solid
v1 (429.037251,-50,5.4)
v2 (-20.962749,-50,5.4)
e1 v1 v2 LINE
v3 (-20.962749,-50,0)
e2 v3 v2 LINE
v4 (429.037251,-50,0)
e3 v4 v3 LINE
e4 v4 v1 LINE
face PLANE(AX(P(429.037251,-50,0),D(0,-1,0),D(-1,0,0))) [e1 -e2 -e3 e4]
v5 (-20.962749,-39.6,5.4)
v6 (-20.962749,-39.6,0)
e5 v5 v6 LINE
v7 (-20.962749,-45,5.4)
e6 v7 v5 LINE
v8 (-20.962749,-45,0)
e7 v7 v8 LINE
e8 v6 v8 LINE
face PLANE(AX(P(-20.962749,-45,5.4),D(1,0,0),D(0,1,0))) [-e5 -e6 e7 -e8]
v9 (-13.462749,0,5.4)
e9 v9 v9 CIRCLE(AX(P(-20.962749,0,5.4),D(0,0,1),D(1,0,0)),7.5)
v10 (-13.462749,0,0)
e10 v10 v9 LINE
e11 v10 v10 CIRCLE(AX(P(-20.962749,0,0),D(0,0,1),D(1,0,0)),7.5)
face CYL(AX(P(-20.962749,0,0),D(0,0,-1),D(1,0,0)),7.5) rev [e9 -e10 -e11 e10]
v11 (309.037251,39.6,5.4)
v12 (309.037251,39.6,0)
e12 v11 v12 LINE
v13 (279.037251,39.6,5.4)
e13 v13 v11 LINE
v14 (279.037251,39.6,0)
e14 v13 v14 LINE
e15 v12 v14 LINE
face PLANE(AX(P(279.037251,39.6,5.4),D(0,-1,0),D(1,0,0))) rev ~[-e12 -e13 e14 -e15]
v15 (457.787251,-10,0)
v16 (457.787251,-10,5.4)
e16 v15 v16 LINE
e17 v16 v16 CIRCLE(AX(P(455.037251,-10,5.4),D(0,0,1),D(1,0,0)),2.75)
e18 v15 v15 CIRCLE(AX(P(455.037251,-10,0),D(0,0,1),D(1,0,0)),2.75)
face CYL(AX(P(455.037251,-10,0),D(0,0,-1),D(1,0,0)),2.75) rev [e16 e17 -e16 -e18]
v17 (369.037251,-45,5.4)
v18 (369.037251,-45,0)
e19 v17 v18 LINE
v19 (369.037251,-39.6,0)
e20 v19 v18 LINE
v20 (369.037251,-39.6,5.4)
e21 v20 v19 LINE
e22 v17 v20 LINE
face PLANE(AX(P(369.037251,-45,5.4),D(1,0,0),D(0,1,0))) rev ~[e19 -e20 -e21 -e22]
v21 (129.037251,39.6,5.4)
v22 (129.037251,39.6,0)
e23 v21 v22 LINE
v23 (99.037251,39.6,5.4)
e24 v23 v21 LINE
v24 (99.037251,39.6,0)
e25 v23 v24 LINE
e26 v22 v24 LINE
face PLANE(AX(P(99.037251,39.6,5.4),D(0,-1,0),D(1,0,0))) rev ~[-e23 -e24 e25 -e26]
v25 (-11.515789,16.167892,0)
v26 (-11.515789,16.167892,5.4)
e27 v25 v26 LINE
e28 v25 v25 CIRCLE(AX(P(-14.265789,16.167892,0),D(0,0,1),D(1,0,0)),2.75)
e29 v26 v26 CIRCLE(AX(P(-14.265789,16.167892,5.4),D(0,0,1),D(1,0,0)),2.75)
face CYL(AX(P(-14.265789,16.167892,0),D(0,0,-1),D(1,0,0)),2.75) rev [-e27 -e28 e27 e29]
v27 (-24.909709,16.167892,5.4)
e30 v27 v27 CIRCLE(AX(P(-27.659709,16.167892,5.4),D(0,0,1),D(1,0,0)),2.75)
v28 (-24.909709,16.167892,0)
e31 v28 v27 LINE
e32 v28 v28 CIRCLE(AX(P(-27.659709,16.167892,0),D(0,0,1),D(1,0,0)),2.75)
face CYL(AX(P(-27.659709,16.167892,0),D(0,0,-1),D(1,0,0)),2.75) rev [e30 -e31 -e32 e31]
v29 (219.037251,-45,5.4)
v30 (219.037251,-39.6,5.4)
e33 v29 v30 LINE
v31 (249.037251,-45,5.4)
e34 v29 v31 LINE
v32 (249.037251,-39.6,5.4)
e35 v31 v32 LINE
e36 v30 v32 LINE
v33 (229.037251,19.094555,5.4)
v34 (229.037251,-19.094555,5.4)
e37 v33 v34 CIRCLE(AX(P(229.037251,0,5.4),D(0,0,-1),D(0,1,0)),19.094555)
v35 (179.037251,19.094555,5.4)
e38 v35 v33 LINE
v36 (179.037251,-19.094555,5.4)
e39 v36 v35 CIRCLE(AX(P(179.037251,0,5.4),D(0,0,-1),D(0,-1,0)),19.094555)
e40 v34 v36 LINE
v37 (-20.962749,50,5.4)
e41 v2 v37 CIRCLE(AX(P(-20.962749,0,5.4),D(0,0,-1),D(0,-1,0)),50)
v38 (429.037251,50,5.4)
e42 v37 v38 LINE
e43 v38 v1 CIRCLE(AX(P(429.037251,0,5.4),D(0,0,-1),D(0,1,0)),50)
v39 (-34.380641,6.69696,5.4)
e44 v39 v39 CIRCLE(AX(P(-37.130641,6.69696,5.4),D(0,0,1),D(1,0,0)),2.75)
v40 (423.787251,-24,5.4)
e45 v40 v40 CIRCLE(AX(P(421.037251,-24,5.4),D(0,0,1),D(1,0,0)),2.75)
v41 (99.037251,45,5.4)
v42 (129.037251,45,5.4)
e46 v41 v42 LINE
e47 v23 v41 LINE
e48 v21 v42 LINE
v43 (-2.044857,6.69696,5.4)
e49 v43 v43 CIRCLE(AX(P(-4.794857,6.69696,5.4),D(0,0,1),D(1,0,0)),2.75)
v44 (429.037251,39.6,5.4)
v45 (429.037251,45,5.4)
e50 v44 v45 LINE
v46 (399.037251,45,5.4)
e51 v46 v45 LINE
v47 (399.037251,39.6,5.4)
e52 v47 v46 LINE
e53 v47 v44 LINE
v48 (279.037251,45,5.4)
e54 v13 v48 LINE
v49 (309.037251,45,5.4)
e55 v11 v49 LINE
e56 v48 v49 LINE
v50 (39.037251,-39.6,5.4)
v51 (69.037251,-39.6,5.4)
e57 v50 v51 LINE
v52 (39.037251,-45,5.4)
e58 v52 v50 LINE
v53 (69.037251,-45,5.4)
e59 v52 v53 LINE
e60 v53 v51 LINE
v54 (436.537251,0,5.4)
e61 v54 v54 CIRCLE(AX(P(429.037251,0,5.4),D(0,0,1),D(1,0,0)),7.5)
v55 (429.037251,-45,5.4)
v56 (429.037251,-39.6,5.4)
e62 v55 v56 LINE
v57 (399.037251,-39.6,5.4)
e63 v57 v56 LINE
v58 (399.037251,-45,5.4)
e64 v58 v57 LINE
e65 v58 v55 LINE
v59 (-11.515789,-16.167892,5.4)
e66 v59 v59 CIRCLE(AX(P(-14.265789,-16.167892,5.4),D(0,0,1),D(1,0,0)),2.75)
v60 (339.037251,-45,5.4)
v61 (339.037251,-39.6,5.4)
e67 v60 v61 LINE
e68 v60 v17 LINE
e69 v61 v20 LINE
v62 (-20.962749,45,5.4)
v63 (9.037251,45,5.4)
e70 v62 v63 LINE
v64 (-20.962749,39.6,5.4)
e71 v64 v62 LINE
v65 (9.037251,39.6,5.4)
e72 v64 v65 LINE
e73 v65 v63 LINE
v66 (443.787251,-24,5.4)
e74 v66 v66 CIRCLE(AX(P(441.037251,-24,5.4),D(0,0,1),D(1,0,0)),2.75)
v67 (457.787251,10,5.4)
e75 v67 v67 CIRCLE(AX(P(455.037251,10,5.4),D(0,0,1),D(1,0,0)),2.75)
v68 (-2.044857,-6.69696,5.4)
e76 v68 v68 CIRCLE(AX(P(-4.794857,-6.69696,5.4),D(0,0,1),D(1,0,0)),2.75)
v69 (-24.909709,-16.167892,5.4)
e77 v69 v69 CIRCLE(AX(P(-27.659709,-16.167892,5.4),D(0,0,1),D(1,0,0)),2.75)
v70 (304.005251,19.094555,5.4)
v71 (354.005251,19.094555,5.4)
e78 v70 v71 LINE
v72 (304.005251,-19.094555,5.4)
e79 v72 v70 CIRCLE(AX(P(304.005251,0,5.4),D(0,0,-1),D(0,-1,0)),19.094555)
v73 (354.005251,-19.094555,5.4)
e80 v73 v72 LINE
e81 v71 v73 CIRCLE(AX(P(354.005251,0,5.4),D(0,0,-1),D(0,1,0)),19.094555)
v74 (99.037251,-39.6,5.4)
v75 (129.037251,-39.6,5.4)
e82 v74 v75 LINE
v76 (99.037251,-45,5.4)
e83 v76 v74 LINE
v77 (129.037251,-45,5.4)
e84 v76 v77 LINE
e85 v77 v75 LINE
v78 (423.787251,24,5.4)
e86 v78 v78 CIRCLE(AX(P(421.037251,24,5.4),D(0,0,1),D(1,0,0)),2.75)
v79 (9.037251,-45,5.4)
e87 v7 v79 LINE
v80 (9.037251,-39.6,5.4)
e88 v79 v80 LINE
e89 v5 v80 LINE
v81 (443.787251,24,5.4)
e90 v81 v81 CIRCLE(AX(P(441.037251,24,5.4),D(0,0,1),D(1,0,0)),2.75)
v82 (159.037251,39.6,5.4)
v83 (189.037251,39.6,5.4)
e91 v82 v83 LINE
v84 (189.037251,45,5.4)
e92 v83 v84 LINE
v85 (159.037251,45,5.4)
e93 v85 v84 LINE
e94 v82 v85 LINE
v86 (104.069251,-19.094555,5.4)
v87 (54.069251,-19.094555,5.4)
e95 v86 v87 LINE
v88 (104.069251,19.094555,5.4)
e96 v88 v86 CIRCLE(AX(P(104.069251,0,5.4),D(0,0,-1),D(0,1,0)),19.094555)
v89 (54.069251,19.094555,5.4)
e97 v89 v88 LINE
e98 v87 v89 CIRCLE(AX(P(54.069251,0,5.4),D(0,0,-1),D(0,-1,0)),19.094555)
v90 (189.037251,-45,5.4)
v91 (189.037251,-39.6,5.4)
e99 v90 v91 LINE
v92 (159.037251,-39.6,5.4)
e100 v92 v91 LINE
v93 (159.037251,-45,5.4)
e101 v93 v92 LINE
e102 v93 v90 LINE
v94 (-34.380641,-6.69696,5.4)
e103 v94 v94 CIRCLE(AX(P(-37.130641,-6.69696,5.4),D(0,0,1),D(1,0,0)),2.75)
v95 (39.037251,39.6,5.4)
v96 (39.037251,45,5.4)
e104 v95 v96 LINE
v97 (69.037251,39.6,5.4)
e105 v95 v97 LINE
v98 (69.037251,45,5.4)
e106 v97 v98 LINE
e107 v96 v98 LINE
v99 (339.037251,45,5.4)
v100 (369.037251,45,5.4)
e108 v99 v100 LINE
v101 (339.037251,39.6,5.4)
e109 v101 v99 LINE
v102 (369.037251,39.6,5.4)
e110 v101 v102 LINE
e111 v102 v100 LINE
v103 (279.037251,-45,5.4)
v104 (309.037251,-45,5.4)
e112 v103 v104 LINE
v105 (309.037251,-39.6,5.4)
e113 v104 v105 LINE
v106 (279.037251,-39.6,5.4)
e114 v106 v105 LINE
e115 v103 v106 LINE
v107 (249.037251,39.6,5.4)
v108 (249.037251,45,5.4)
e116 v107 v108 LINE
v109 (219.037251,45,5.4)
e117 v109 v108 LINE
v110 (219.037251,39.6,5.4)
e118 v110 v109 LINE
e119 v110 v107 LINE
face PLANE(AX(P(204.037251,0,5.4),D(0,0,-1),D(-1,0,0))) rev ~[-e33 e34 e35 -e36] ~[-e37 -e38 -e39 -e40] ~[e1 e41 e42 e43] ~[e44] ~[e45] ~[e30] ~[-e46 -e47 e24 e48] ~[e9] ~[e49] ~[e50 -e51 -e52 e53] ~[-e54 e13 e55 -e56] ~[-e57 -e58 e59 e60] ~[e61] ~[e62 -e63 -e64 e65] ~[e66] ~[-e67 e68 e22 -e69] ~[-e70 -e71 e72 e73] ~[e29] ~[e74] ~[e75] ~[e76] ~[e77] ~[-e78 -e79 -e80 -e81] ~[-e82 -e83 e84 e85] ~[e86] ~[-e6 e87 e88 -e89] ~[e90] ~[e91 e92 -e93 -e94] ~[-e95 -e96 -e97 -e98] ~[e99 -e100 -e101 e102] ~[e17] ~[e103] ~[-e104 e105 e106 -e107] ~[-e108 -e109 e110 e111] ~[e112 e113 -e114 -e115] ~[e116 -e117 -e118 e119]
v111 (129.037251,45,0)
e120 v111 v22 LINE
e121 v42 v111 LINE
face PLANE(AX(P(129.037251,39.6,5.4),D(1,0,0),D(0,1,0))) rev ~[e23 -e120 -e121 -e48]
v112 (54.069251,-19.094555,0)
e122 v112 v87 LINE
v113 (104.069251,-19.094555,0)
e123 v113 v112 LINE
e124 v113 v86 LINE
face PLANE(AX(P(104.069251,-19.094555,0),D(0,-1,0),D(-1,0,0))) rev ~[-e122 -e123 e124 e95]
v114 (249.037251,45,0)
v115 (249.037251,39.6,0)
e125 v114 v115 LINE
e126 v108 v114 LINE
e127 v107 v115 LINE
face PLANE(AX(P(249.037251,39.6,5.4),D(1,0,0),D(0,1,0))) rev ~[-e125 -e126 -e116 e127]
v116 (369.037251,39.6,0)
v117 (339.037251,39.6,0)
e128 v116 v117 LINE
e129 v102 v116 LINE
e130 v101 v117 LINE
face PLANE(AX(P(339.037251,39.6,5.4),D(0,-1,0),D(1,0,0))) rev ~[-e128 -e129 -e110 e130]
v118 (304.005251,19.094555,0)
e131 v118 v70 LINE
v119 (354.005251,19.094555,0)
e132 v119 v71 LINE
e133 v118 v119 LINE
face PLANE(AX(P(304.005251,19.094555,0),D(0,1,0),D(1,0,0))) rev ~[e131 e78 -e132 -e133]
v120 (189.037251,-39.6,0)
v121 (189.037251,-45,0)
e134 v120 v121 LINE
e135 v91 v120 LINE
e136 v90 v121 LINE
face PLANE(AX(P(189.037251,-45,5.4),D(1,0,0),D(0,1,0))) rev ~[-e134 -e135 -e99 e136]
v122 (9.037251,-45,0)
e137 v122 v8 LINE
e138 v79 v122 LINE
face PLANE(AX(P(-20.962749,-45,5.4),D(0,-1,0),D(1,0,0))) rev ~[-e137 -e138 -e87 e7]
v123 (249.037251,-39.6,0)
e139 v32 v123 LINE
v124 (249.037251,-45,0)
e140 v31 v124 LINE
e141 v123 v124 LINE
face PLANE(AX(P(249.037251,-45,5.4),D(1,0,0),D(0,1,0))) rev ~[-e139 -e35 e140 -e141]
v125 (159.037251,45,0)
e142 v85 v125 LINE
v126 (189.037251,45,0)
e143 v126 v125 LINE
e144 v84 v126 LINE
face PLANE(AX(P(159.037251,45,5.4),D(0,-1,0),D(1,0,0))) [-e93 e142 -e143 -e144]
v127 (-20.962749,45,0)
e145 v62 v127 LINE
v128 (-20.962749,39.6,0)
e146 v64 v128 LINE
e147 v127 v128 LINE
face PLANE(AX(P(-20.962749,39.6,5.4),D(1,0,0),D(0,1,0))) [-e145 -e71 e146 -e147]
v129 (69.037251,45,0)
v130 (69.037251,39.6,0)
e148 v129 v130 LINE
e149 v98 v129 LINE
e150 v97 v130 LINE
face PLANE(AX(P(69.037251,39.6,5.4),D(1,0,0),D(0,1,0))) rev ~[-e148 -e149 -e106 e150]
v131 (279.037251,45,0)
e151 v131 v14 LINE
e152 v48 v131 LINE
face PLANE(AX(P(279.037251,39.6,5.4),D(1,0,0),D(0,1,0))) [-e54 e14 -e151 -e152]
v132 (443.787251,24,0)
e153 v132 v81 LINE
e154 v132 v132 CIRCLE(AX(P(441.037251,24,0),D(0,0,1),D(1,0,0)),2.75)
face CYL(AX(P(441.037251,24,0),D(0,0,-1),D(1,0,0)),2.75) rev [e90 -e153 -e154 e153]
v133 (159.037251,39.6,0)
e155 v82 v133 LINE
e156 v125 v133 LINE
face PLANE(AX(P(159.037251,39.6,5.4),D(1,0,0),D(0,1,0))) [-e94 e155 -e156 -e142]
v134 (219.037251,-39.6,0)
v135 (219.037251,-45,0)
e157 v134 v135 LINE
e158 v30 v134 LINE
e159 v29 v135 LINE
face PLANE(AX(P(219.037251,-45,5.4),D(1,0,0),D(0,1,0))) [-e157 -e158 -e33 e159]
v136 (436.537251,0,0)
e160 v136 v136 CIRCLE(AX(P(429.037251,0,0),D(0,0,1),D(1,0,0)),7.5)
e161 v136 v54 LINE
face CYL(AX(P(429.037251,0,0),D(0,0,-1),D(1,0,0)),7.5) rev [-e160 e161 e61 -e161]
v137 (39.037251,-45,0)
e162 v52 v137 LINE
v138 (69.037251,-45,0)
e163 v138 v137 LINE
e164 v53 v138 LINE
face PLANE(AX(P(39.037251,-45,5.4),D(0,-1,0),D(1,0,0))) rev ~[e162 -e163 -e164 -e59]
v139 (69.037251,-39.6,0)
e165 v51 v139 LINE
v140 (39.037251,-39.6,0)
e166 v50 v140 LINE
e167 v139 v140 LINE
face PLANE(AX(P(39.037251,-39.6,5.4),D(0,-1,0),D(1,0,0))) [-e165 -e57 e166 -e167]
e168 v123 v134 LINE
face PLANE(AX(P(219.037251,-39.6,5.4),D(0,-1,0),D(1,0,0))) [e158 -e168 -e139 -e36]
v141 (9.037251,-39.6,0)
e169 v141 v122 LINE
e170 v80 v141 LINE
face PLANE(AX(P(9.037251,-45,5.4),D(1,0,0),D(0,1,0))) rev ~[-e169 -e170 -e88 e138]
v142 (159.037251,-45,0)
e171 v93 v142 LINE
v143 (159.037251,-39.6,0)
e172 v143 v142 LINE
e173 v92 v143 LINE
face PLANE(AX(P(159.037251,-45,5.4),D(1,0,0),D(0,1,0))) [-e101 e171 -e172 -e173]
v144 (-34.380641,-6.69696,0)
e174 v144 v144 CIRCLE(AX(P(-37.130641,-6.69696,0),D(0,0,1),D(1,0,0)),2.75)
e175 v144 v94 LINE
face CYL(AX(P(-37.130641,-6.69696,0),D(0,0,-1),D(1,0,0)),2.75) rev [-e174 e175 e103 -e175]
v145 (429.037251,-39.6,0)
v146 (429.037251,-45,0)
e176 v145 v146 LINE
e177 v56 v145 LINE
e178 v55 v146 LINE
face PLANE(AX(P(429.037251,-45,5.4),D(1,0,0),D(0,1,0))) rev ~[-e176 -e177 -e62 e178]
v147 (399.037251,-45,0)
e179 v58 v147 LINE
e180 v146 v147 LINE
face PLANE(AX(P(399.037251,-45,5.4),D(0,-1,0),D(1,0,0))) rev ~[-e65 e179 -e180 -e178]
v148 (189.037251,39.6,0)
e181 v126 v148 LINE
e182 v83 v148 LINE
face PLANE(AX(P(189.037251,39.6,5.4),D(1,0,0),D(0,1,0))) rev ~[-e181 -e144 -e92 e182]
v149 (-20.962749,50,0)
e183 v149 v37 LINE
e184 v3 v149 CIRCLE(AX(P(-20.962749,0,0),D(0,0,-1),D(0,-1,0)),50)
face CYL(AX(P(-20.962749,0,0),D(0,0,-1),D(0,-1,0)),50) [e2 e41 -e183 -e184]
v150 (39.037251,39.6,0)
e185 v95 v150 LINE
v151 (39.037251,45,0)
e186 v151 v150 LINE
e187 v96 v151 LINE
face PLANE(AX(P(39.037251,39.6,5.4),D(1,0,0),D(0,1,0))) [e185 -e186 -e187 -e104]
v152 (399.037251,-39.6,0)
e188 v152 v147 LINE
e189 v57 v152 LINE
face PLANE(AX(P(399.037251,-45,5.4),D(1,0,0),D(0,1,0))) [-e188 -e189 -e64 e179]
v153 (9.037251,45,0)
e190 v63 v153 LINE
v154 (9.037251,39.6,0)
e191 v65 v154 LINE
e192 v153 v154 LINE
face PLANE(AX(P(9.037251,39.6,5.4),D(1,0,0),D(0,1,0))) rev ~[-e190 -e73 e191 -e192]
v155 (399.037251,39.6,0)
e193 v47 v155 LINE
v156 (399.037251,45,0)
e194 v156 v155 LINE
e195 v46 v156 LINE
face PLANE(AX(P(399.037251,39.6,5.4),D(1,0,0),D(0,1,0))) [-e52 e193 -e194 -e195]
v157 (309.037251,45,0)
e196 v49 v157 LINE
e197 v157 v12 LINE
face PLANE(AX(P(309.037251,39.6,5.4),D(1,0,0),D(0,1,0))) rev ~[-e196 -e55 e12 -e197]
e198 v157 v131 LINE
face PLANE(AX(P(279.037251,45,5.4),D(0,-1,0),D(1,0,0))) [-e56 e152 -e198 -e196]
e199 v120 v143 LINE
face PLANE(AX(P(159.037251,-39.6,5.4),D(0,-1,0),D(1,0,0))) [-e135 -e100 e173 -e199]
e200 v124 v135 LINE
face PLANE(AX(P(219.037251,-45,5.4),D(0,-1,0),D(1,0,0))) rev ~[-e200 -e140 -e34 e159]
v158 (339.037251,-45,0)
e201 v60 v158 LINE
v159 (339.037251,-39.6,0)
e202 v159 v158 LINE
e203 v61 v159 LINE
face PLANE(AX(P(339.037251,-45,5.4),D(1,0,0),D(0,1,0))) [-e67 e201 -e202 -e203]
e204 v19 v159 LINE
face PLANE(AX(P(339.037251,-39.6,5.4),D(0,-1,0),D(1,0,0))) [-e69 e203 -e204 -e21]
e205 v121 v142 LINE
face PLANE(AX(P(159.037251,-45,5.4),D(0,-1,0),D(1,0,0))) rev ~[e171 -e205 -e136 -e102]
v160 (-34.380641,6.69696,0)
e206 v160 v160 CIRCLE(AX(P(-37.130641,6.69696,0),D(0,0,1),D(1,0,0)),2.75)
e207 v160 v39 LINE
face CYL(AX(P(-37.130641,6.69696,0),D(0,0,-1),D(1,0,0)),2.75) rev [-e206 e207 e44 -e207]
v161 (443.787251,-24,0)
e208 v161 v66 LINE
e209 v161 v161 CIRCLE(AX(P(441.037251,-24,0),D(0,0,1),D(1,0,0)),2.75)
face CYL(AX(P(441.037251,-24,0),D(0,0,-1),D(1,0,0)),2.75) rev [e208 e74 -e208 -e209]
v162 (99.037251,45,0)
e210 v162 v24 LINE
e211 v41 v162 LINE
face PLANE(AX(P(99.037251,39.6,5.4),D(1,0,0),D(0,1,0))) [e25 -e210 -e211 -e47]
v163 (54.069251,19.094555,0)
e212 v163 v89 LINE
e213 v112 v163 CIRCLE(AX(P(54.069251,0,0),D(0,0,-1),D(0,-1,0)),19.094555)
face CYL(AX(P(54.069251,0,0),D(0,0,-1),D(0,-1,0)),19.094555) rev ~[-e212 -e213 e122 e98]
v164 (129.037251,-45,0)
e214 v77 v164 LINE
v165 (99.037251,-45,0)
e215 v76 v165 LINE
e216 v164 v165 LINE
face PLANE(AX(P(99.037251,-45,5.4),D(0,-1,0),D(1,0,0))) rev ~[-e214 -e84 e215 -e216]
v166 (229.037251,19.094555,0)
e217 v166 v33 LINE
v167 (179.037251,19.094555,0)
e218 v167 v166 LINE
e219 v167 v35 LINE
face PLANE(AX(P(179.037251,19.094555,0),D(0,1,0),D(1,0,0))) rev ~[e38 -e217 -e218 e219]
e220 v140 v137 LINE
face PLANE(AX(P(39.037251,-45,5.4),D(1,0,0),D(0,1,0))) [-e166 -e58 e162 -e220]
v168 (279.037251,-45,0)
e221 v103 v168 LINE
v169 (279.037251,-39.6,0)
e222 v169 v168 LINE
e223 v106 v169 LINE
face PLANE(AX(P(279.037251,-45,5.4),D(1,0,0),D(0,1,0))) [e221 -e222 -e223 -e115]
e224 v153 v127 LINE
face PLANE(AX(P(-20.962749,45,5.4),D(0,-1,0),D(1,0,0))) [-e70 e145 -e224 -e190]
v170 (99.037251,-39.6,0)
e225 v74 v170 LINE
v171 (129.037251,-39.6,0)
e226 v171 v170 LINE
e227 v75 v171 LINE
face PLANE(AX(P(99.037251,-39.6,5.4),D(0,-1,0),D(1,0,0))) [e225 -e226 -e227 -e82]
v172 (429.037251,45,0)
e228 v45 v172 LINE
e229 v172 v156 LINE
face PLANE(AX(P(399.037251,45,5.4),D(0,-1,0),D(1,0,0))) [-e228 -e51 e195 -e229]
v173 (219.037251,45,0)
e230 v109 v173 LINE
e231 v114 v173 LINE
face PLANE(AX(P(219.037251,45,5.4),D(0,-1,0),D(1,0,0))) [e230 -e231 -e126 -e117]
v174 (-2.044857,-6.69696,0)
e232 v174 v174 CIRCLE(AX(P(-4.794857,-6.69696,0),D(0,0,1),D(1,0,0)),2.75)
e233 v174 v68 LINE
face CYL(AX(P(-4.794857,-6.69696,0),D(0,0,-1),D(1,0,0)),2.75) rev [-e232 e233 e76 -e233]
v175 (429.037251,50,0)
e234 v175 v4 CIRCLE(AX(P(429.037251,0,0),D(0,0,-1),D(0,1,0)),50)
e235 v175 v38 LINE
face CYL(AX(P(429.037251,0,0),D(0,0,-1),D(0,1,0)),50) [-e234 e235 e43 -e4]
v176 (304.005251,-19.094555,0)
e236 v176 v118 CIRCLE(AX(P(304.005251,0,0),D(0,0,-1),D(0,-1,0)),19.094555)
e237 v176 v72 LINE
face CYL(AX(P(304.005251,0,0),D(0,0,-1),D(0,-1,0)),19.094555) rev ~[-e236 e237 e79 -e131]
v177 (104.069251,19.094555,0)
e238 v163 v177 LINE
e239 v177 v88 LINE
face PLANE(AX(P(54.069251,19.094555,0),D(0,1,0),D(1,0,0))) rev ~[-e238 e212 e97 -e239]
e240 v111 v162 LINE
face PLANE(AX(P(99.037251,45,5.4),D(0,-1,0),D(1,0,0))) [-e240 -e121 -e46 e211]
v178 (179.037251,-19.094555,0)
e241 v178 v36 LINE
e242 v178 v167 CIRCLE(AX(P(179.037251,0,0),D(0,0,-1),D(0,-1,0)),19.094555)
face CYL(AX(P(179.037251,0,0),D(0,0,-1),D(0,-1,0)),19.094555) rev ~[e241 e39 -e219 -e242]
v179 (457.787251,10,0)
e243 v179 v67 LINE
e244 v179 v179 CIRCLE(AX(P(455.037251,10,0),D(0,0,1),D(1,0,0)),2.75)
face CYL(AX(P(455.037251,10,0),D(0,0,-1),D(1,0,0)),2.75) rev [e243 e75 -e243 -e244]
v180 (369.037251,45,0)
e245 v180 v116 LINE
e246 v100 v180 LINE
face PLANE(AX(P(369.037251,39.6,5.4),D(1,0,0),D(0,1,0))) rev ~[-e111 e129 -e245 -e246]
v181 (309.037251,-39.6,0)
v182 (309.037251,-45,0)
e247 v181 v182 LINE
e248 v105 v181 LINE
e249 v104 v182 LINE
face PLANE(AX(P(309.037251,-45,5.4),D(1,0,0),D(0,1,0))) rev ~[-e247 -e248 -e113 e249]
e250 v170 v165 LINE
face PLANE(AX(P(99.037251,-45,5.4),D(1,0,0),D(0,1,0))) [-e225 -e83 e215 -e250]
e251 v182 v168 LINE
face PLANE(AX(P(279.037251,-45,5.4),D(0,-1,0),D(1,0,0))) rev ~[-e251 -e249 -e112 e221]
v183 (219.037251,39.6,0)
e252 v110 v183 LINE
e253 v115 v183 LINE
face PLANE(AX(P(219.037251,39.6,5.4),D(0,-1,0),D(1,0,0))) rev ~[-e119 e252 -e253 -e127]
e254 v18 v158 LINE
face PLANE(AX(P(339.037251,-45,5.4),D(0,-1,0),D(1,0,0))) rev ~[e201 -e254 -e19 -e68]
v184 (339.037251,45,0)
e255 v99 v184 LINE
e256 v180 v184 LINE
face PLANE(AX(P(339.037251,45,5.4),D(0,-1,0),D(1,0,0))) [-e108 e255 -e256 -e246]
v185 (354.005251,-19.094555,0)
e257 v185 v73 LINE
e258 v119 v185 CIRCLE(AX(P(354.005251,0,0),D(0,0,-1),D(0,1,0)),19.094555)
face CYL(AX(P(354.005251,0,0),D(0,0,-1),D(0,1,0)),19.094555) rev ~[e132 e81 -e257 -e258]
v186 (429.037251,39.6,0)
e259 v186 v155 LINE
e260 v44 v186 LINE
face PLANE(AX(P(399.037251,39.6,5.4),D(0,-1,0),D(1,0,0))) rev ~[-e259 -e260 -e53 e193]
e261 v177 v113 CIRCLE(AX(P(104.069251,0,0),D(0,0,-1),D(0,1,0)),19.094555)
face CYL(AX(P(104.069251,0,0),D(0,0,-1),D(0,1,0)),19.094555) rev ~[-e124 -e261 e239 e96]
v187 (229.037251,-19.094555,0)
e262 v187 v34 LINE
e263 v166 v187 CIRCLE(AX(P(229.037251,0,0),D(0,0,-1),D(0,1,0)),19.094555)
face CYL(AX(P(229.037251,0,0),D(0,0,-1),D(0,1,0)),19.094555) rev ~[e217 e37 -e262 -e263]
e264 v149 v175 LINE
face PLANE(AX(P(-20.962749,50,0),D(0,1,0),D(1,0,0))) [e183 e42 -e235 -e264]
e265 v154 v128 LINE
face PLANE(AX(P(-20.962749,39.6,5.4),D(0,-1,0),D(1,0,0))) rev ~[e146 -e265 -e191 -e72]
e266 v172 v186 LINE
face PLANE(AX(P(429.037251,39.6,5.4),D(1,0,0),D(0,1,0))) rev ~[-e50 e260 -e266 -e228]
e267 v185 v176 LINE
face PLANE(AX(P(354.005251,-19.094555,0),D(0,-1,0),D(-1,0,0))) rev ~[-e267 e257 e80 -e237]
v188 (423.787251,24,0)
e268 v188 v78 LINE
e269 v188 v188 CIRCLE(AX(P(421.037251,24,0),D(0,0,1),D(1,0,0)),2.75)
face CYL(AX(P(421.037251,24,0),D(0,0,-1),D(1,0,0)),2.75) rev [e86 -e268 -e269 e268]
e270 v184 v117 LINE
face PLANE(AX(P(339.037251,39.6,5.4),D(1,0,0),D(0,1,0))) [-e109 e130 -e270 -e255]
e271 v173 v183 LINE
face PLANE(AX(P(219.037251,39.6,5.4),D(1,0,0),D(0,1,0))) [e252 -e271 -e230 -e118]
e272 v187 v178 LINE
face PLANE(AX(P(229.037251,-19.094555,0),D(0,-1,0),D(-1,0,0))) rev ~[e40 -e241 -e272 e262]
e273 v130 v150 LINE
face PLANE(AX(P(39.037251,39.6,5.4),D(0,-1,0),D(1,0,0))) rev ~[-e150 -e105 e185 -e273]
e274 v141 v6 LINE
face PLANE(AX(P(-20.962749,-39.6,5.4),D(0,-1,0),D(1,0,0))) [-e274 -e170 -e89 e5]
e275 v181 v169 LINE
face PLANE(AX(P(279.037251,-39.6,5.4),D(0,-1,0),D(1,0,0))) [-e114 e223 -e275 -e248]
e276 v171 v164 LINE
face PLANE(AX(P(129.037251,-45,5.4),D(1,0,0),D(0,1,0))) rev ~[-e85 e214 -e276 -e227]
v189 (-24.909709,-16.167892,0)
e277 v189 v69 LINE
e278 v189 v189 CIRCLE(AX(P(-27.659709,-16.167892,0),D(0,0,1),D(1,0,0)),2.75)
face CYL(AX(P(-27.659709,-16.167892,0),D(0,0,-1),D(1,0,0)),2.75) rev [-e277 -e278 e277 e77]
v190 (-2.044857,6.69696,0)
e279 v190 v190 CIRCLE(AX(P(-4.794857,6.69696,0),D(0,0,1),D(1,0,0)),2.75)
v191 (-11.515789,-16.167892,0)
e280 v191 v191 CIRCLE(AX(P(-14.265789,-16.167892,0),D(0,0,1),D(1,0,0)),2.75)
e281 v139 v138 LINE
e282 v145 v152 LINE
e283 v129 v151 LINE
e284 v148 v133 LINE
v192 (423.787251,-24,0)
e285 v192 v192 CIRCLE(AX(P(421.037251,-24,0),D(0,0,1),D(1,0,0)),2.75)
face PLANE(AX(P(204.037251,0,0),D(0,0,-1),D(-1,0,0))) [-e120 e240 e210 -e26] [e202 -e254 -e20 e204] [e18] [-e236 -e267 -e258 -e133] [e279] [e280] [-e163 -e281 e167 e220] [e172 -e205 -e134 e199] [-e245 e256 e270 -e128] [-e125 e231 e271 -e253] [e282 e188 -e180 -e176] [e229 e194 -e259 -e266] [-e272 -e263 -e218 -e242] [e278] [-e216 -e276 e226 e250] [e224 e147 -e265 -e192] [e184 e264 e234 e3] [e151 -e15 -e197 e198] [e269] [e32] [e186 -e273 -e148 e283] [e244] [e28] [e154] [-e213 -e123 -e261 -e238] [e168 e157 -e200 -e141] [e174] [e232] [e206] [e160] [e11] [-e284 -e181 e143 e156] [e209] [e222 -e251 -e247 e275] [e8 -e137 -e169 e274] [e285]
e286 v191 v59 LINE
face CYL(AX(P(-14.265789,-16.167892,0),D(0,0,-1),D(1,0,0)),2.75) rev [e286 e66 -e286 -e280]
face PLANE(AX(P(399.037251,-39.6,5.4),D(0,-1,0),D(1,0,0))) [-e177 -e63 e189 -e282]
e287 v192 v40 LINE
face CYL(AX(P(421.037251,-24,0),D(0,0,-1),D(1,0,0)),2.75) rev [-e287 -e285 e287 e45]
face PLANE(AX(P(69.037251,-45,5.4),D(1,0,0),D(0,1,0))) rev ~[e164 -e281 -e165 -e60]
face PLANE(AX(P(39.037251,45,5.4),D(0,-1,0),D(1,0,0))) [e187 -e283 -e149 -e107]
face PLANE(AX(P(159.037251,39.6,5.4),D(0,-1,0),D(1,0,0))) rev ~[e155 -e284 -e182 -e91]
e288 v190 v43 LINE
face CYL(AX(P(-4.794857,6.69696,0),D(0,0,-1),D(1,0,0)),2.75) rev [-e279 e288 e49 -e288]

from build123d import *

# Parameters (mm, degrees)
SKETCH3_R           = 7.5
SKETCH3_R_2         = 2.75
BOSS_EXTRUDE1_DEPTH = 5.4
SKETCH4_W           = 30
SKETCH4_H           = 5.4
CUT_EXTRUDE1_DEPTH  = 6.4


with BuildPart() as part:
    # Sketch3 → Boss-Extrude1 (new body)
    with BuildSketch(Plane.XY):
        with BuildLine():
            Line((-20.962749028, 50), (429.037250972, 50))
            ThreePointArc((429.037250972, 50), (479.037250972, 0), (429.037250972, -50))
            Line((429.037250972, -50), (-20.962749028, -50))
            ThreePointArc((-20.962749028, -50), (-70.962749028, 0), (-20.962749028, 50))
        make_face()
        with Locations((-20.962749028, 0)):
            Circle(SKETCH3_R, mode=Mode.SUBTRACT)
        with Locations((429.037250972, 0)):
            Circle(SKETCH3_R, mode=Mode.SUBTRACT)
        with Locations((-4.794857209, 6.696960066)):
            Circle(SKETCH3_R_2, mode=Mode.SUBTRACT)
        with Locations((-4.794857209, -6.696960066)):
            Circle(SKETCH3_R_2, mode=Mode.SUBTRACT)
        with Locations((-14.265788962, -16.167891819)):
            Circle(SKETCH3_R_2, mode=Mode.SUBTRACT)
        with Locations((-27.659709094, -16.167891819)):
            Circle(SKETCH3_R_2, mode=Mode.SUBTRACT)
        with Locations((-37.130640847, -6.696960066)):
            Circle(SKETCH3_R_2, mode=Mode.SUBTRACT)
        with Locations((-37.130640847, 6.696960066)):
            Circle(SKETCH3_R_2, mode=Mode.SUBTRACT)
        with Locations((-27.659709094, 16.167891819)):
            Circle(SKETCH3_R_2, mode=Mode.SUBTRACT)
        with Locations((-14.265788962, 16.167891819)):
            Circle(SKETCH3_R_2, mode=Mode.SUBTRACT)
        with Locations((455.037250972, 10)):
            Circle(SKETCH3_R_2, mode=Mode.SUBTRACT)
        with Locations((441.037250972, 24)):
            Circle(SKETCH3_R_2, mode=Mode.SUBTRACT)
        with Locations((421.037250972, 24)):
            Circle(SKETCH3_R_2, mode=Mode.SUBTRACT)
        with Locations((455.037250972, -10)):
            Circle(SKETCH3_R_2, mode=Mode.SUBTRACT)
        with Locations((441.037250972, -24)):
            Circle(SKETCH3_R_2, mode=Mode.SUBTRACT)
        with Locations((421.037250972, -24)):
            Circle(SKETCH3_R_2, mode=Mode.SUBTRACT)
        with BuildLine():
            Line((179.037250972, 19.094555463), (229.037250972, 19.094555463))
            ThreePointArc((229.037250972, 19.094555463), (248.131806435, 0), (229.037250972, -19.094555463))
            Line((229.037250972, -19.094555463), (179.037250972, -19.094555463))
            ThreePointArc((179.037250972, -19.094555463), (159.942695509, 0), (179.037250972, 19.094555463))
        make_face(mode=Mode.SUBTRACT)
        with BuildLine():
            Line((304.005250972, 19.094555463), (354.005250972, 19.094555463))
            ThreePointArc((354.005250972, 19.094555463), (373.099806435, 0), (354.005250972, -19.094555463))
            Line((354.005250972, -19.094555463), (304.005250972, -19.094555463))
            ThreePointArc((304.005250972, -19.094555463), (284.910695509, 0), (304.005250972, 19.094555463))
        make_face(mode=Mode.SUBTRACT)
        with BuildLine():
            Line((54.069250972, 19.094555463), (104.069250972, 19.094555463))
            ThreePointArc((104.069250972, 19.094555463), (123.163806435, 0), (104.069250972, -19.094555463))
            Line((104.069250972, -19.094555463), (54.069250972, -19.094555463))
            ThreePointArc((54.069250972, -19.094555463), (34.974695509, 0), (54.069250972, 19.094555463))
        make_face(mode=Mode.SUBTRACT)
    extrude(amount=BOSS_EXTRUDE1_DEPTH)

    # Sketch4 → Cut-Extrude1 (cut, through all)
    with BuildSketch(Plane.XY.offset(5.4)):
        with Locations((-5.962749028, 42.3)):
            Rectangle(SKETCH4_W, SKETCH4_H)
        with Locations((54.037250972, 42.3)):
            Rectangle(SKETCH4_W, SKETCH4_H)
        with Locations((114.037250972, 42.3)):
            Rectangle(SKETCH4_W, SKETCH4_H)
        with Locations((174.037250972, 42.3)):
            Rectangle(SKETCH4_W, SKETCH4_H)
        with Locations((234.037250972, 42.3)):
            Rectangle(SKETCH4_W, SKETCH4_H)
        with Locations((294.037250972, 42.3)):
            Rectangle(SKETCH4_W, SKETCH4_H)
        with Locations((354.037250972, 42.3)):
            Rectangle(SKETCH4_W, SKETCH4_H)
        with Locations((414.037250972, 42.3)):
            Rectangle(SKETCH4_W, SKETCH4_H)
        with Locations((414.037250972, -42.3)):
            Rectangle(SKETCH4_W, SKETCH4_H)
        with Locations((354.037250972, -42.3)):
            Rectangle(SKETCH4_W, SKETCH4_H)
        with Locations((294.037250972, -42.3)):
            Rectangle(SKETCH4_W, SKETCH4_H)
        with Locations((234.037250972, -42.3)):
            Rectangle(SKETCH4_W, SKETCH4_H)
        with Locations((174.037250972, -42.3)):
            Rectangle(SKETCH4_W, SKETCH4_H)
        with Locations((114.037250972, -42.3)):
            Rectangle(SKETCH4_W, SKETCH4_H)
        with Locations((54.037250972, -42.3)):
            Rectangle(SKETCH4_W, SKETCH4_H)
        with Locations((-5.962749028, -42.3)):
            Rectangle(SKETCH4_W, SKETCH4_H)
    extrude(amount=-CUT_EXTRUDE1_DEPTH, mode=Mode.SUBTRACT)


solid = part.part
